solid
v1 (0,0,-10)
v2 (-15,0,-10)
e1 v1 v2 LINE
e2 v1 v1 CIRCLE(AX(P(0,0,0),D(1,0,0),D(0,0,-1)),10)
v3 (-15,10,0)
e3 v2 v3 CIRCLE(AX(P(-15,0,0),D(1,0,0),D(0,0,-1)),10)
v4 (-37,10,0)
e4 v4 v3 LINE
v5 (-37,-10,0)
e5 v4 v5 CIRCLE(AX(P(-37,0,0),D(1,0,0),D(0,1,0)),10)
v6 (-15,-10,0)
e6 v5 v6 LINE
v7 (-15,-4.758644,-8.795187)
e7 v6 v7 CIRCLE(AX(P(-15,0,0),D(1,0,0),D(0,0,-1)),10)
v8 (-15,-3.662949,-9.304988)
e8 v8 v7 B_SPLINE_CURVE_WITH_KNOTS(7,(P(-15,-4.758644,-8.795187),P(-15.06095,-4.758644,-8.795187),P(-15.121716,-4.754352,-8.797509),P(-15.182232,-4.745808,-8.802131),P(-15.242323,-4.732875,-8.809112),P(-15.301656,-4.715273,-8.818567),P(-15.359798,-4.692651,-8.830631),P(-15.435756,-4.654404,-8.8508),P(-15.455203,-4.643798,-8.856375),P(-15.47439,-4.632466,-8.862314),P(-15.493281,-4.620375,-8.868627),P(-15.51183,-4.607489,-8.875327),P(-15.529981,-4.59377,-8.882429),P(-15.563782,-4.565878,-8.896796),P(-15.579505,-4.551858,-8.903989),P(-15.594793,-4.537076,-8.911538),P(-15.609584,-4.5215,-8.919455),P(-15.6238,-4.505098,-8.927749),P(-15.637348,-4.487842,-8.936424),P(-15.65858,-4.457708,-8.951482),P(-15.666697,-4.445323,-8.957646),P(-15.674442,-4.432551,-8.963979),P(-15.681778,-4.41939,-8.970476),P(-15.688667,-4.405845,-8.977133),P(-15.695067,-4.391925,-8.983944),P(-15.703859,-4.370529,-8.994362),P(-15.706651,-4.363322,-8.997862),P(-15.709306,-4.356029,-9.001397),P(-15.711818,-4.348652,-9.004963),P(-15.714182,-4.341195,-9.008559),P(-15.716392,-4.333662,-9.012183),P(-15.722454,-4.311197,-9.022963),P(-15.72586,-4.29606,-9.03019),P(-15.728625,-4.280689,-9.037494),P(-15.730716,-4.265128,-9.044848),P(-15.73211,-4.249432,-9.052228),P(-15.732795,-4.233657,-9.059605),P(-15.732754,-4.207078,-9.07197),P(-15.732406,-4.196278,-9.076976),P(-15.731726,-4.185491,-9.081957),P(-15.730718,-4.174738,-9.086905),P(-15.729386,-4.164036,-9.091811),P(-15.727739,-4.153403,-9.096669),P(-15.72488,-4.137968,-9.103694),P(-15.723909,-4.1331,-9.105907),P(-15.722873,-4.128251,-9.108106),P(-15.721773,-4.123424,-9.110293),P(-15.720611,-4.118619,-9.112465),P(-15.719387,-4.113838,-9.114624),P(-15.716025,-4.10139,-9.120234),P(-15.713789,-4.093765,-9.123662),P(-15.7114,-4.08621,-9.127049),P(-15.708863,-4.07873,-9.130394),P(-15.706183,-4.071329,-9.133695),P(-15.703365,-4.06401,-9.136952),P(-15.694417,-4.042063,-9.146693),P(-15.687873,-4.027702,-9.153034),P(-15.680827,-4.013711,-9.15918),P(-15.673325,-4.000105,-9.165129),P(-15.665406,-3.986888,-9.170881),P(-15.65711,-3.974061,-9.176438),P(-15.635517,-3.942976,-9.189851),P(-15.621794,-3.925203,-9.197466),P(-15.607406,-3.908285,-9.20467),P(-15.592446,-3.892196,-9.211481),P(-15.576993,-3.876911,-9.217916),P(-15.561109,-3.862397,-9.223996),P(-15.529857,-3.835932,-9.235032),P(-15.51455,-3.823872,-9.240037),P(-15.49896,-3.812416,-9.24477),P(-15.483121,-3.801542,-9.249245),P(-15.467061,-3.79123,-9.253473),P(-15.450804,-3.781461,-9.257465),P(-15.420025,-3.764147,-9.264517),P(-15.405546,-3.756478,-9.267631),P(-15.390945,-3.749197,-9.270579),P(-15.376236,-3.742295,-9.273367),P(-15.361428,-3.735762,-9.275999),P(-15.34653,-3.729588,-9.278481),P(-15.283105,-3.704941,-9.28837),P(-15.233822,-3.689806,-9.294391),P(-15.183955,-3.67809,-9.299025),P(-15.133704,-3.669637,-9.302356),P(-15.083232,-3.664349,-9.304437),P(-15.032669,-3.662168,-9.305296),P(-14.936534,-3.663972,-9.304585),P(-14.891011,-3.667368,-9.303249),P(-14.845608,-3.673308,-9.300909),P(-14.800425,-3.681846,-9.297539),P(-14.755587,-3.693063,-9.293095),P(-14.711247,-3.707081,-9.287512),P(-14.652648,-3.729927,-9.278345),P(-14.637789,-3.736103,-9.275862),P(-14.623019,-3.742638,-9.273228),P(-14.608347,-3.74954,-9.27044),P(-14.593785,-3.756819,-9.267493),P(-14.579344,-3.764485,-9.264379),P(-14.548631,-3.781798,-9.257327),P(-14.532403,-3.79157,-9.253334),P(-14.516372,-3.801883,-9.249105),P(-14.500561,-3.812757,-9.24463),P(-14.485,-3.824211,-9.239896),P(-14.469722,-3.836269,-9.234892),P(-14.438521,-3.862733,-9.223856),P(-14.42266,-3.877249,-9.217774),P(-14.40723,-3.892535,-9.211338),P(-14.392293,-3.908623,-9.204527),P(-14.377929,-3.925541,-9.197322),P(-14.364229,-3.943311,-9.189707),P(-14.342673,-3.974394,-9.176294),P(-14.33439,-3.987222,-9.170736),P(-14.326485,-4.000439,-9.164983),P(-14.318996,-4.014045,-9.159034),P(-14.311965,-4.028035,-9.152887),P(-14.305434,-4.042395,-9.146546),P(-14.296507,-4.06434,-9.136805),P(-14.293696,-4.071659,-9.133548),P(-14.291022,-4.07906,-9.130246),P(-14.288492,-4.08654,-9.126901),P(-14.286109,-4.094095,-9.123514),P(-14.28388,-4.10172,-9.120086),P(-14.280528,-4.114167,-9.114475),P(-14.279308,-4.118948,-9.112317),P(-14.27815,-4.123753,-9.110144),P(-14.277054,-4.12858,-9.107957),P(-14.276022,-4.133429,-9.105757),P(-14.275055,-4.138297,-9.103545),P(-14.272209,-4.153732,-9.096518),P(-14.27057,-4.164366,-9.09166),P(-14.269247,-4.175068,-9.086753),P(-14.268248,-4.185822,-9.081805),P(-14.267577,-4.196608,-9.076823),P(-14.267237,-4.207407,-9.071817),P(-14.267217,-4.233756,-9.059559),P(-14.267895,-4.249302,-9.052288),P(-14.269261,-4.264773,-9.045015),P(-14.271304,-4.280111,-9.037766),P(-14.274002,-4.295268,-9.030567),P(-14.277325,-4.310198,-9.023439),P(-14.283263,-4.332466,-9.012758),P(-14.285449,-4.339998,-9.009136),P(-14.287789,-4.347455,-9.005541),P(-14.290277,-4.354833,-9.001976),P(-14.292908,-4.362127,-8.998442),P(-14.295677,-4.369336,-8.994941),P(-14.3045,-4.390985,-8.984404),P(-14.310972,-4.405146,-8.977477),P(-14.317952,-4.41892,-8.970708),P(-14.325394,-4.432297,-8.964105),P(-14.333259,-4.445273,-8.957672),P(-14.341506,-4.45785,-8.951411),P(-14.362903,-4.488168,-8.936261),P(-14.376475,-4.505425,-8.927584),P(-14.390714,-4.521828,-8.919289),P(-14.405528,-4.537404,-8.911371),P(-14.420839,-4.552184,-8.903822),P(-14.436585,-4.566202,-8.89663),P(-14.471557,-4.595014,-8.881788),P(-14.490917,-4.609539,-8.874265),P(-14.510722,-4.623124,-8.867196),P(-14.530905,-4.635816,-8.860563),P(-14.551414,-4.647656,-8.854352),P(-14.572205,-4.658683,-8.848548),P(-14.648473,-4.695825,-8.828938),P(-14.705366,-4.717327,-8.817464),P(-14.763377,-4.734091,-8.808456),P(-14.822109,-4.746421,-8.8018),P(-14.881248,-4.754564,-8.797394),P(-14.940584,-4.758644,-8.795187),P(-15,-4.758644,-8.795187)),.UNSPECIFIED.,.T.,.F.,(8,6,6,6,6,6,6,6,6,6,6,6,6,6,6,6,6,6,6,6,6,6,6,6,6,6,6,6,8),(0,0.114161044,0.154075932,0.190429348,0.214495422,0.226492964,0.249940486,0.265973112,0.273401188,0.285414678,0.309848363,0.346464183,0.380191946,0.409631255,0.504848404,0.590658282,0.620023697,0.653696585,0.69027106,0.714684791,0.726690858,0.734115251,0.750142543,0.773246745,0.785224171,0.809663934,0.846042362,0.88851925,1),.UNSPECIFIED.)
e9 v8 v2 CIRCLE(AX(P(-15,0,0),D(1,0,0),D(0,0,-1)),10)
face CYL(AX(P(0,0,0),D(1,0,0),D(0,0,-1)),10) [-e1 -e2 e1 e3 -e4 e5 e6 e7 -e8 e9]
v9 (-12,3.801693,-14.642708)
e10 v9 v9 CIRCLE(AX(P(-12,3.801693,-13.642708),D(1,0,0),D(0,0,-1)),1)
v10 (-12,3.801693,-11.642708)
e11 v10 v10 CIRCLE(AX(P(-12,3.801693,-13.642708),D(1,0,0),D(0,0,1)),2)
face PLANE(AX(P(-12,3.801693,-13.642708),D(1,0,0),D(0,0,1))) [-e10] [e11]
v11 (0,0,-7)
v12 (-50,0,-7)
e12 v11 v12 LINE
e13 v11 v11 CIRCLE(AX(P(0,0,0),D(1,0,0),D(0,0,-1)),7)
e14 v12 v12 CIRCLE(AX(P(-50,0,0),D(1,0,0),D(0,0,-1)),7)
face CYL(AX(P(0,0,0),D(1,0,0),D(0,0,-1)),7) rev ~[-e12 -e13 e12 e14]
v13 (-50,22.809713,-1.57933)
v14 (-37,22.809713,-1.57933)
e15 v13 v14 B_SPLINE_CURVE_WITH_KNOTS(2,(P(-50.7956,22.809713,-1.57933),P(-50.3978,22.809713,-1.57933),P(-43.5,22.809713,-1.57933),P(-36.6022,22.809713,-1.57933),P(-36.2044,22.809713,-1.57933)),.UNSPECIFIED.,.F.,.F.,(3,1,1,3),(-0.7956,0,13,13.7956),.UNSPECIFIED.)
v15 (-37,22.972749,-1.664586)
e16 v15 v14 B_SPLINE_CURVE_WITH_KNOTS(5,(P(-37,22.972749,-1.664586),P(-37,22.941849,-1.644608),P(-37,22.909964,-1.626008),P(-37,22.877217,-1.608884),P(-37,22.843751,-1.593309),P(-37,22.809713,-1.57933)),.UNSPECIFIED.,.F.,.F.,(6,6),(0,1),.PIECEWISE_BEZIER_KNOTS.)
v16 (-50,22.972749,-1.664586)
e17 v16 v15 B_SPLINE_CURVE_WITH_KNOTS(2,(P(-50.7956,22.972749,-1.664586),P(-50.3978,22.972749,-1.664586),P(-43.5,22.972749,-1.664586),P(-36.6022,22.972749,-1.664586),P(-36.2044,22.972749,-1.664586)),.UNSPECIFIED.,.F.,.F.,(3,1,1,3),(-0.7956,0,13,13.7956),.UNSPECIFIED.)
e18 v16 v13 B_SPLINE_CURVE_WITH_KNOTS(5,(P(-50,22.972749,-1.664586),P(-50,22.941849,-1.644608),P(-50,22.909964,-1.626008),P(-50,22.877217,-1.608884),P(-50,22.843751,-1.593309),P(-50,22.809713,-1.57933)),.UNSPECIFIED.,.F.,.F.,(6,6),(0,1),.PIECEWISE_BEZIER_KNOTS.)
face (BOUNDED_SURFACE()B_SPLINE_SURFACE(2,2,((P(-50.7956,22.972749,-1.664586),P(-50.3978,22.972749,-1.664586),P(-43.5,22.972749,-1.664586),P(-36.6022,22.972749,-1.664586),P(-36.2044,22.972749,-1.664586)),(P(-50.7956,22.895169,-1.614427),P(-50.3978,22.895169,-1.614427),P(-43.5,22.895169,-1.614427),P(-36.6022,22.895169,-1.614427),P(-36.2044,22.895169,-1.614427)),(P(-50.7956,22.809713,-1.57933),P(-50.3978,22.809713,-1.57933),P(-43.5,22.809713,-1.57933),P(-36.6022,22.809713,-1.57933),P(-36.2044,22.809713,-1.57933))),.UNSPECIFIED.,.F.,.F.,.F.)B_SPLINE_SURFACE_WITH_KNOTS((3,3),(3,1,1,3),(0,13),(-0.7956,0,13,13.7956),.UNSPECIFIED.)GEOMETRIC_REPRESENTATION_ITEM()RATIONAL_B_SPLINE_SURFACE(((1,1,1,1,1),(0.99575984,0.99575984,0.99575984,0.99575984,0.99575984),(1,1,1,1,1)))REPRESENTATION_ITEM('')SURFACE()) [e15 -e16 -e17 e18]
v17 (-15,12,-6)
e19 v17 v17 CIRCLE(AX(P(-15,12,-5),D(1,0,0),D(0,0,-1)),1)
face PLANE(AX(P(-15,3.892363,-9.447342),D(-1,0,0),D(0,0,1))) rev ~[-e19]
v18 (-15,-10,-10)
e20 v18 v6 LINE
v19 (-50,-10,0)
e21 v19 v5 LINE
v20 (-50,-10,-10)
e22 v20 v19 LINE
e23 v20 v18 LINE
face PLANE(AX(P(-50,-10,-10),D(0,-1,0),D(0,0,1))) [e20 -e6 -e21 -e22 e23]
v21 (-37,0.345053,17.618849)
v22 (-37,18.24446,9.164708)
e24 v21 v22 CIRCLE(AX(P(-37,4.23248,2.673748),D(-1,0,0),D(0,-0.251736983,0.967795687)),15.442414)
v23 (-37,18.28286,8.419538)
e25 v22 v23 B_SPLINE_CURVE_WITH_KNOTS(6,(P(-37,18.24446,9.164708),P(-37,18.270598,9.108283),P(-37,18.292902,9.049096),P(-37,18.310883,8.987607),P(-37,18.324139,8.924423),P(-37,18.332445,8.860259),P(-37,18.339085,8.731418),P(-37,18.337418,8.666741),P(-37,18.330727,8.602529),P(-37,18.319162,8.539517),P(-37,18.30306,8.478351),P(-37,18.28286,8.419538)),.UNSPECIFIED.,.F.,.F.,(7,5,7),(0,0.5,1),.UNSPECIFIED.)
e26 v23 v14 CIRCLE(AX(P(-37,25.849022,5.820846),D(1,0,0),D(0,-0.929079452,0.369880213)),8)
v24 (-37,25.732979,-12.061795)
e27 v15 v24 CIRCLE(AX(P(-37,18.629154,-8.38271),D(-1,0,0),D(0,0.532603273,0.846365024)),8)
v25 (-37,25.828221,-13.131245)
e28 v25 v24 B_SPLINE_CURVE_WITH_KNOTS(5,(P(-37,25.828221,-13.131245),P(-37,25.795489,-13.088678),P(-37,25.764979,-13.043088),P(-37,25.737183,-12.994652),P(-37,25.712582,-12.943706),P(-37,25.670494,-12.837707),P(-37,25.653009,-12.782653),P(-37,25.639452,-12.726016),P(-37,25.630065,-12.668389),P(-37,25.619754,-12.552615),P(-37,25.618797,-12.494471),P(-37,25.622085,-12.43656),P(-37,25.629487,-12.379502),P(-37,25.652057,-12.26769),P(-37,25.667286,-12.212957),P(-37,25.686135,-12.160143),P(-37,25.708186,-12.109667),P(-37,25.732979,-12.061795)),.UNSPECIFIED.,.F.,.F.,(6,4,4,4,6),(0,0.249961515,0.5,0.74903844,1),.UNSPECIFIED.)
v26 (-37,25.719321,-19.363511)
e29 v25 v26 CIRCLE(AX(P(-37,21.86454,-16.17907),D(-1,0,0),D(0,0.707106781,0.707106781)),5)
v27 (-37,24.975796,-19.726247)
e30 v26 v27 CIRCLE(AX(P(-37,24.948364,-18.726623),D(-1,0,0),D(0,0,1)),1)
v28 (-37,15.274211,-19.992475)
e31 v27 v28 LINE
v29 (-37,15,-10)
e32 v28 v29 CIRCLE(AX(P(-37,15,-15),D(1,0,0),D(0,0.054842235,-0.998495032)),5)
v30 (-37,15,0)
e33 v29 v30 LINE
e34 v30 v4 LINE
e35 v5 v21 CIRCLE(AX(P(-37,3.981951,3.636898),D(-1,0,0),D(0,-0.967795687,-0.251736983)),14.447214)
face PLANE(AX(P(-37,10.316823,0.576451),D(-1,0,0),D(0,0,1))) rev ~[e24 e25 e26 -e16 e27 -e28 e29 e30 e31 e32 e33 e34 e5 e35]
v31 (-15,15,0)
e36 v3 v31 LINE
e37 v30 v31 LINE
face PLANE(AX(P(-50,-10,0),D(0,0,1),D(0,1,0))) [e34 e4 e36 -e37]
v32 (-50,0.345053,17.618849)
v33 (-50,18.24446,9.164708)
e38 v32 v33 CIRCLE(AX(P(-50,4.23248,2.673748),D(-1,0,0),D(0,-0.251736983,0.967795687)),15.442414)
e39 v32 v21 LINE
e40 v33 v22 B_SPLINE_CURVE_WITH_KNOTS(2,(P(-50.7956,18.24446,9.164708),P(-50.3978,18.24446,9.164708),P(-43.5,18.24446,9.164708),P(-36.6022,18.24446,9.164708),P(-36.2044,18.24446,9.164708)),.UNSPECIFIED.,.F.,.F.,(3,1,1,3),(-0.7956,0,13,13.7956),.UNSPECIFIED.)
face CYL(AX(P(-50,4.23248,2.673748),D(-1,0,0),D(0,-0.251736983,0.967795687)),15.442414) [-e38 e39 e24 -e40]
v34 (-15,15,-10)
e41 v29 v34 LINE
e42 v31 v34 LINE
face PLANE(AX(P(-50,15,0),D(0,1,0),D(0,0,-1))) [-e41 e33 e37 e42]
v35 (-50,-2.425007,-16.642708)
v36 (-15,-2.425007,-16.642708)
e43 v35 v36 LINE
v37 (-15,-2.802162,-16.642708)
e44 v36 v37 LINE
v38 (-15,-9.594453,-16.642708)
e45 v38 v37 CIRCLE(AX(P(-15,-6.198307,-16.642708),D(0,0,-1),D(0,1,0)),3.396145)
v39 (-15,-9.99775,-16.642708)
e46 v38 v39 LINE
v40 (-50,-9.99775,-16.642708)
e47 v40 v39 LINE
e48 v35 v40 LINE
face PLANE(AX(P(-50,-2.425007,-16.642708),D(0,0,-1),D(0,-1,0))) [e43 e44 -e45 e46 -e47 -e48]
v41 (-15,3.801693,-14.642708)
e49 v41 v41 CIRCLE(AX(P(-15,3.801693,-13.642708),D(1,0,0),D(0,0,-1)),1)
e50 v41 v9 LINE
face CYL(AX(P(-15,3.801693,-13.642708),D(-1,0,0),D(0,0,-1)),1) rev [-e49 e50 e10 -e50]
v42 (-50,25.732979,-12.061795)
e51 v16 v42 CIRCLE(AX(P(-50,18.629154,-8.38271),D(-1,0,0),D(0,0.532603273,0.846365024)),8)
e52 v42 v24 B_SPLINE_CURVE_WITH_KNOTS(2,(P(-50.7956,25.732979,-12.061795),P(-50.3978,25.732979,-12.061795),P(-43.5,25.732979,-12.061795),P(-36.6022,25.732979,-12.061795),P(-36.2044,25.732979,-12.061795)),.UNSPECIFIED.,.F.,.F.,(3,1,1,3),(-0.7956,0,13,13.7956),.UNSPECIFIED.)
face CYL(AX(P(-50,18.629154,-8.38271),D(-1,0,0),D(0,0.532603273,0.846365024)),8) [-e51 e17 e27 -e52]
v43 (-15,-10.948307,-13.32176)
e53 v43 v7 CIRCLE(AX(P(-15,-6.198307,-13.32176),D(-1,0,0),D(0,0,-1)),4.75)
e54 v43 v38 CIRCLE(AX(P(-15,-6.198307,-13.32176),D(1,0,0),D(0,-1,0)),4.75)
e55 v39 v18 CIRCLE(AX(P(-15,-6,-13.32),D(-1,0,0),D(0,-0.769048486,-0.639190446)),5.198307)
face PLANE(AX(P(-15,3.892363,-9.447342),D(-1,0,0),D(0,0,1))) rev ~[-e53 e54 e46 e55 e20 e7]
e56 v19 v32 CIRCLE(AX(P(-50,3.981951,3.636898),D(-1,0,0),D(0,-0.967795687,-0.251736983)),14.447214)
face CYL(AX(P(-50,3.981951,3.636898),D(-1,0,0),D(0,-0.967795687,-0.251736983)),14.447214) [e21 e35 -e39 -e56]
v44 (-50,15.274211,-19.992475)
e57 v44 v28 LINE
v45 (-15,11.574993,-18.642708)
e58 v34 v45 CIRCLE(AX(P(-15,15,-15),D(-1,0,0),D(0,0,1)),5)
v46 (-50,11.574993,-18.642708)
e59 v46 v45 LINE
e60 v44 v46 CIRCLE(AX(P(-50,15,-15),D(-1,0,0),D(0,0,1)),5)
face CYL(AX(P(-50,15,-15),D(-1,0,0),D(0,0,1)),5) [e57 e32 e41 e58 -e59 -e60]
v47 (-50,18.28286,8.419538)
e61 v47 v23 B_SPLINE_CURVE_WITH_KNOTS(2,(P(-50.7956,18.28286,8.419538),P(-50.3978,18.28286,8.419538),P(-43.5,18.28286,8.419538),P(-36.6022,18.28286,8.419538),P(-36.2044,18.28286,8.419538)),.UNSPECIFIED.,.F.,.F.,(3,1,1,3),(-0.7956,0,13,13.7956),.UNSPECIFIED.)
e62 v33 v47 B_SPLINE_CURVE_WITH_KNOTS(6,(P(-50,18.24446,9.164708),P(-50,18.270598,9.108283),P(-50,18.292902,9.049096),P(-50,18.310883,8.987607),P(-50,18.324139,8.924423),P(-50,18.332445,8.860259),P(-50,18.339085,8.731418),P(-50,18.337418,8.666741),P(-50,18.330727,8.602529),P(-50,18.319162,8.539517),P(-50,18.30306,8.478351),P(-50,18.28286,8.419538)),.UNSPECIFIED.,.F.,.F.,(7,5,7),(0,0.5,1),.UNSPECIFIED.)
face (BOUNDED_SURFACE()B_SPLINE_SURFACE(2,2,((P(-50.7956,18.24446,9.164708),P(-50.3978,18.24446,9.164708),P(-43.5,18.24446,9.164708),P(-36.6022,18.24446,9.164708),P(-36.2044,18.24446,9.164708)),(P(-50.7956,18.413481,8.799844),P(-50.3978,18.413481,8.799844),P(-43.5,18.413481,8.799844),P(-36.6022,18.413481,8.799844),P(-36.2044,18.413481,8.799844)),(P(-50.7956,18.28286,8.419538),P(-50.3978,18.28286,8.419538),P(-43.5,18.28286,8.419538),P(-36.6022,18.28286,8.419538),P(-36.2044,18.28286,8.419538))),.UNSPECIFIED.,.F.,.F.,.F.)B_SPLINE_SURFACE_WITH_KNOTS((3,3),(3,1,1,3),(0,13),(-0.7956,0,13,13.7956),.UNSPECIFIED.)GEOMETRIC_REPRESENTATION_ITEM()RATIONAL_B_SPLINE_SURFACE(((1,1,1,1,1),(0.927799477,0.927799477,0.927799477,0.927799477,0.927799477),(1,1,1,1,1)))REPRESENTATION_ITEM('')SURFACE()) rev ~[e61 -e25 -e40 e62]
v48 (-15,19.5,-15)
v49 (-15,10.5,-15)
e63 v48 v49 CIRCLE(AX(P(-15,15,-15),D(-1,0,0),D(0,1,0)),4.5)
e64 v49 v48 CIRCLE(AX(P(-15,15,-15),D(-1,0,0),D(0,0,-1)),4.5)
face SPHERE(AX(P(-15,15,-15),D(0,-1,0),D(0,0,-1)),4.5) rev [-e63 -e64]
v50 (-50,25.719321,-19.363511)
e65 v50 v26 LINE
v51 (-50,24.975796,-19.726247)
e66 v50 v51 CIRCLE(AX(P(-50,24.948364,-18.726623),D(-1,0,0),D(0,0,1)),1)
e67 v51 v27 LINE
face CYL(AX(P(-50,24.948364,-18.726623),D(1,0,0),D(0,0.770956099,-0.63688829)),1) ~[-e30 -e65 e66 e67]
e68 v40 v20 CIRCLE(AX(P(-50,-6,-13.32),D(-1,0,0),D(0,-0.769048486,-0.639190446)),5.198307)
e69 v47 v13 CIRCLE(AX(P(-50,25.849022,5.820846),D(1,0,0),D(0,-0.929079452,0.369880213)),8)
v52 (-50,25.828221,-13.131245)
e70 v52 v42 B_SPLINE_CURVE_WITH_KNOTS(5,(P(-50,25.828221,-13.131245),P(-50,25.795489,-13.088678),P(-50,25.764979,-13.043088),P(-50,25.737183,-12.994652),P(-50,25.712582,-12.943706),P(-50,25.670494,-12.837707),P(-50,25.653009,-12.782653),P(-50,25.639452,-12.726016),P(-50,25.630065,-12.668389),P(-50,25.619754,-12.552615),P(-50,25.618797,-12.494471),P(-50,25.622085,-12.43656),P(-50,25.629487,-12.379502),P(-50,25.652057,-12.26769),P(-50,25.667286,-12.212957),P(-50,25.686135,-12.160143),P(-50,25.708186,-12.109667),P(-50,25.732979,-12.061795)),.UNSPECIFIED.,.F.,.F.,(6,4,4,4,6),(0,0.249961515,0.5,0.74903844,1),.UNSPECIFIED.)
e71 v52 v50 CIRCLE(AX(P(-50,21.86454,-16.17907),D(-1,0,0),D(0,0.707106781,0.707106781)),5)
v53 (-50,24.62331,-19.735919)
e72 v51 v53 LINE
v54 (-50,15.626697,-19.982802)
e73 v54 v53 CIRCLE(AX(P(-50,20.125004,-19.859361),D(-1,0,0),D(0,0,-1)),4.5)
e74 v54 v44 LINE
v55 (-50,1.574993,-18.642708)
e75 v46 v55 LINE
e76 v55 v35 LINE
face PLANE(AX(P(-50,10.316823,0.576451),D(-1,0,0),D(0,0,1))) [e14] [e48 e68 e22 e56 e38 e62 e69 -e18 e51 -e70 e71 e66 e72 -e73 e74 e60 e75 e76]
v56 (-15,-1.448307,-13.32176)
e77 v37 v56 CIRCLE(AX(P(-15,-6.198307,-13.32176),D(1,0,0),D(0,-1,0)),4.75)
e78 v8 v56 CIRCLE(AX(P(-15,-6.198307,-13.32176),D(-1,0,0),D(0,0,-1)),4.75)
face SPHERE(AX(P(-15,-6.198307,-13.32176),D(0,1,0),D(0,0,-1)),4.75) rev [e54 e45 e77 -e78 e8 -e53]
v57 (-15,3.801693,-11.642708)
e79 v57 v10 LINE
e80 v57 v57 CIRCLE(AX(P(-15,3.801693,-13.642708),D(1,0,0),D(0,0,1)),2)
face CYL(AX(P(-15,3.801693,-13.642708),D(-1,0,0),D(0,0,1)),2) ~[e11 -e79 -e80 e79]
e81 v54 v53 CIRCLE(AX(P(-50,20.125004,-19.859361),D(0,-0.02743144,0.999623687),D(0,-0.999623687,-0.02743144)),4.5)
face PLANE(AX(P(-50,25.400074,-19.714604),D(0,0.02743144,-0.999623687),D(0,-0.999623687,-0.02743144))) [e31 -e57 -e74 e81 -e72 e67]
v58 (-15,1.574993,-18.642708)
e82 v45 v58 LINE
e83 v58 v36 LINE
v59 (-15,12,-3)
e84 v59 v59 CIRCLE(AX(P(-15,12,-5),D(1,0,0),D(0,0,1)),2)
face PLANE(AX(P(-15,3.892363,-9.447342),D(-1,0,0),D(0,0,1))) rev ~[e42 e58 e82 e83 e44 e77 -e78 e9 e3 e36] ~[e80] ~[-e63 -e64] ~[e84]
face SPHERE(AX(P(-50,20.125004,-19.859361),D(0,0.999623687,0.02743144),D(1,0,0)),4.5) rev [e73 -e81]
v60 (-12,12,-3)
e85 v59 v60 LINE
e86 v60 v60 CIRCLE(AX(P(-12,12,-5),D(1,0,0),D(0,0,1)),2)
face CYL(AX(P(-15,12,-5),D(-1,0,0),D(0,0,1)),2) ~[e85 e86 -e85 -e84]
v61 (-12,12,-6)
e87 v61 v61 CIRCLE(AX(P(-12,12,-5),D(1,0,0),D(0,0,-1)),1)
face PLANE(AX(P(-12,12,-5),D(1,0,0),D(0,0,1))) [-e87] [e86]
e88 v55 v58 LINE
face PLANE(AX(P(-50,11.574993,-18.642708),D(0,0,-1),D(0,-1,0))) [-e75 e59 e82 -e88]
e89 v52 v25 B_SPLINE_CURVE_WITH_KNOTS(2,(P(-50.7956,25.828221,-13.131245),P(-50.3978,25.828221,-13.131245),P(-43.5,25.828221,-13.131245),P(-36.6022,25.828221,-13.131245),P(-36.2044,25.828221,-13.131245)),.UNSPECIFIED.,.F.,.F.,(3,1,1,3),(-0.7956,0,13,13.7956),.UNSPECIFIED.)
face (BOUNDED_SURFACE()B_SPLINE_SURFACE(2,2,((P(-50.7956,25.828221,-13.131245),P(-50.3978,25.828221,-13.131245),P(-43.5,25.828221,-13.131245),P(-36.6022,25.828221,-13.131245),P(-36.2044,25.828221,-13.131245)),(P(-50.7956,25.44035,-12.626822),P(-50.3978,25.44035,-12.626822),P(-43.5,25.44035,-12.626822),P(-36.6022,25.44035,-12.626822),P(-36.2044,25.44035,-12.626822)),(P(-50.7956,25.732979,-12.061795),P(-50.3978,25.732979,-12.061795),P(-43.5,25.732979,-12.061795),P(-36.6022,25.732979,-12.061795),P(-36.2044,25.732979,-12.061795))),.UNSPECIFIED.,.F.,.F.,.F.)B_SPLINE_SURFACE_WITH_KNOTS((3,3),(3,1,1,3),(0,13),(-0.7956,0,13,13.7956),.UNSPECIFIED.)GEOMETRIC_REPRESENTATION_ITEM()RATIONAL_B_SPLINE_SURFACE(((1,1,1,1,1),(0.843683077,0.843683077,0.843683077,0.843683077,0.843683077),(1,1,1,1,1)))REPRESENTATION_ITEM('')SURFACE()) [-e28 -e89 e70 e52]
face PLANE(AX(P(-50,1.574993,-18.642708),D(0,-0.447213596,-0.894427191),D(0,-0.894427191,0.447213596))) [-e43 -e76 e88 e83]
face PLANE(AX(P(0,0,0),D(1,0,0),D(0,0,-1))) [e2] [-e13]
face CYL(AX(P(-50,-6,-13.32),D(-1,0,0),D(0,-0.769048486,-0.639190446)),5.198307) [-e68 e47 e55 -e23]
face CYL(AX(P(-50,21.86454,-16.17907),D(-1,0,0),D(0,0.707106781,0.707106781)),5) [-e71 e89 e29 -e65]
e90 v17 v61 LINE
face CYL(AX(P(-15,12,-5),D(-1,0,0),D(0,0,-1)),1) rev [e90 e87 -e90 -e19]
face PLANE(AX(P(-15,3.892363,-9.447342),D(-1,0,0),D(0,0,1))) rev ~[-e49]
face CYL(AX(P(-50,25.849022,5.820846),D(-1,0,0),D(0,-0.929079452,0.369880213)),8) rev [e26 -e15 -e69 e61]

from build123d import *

# Parameters (mm, degrees)
SKETCH1_R           = 10
BOSS_EXTRUDE1_DEPTH = 50
BOSS_EXTRUDE3_DEPTH = 35
SKETCH8_R           = 2
SKETCH8_R_2         = 1
BOSS_EXTRUDE4_DEPTH = 3
BOSS_EXTRUDE6_DEPTH = 13
FILLET1_R           = 1
FILLET2_R           = 1
SKETCH2_R           = 7
CUT_EXTRUDE2_DEPTH  = 61.180591


with BuildPart() as part:
    # Sketch1 → Boss-Extrude1 (new body)
    with BuildSketch(Plane(origin=(0, 0, 0), x_dir=(0, 0, -1), z_dir=(1, 0, 0))):
        Circle(SKETCH1_R)
    extrude(amount=-BOSS_EXTRUDE1_DEPTH)

    # Sketch3 → Boss-Extrude3 (add)
    with BuildSketch(Plane(origin=(-50, 0, 0), x_dir=(0, 0, -1), z_dir=(1, 0, 0))):
        with BuildLine():
            Line((0, 10), (0, 15))
            Line((0, 15), (10, 15))
            ThreePointArc((10, 15), (16.842071907, 19.648308412), (18.642708436, 11.574992664))
            Line((18.642708436, 11.574992664), (18.642708436, 1.574992664))
            Line((18.642708436, 1.574992664), (16.642708436, -2.425007336))
            Line((16.642708436, -2.425007336), (16.642708436, -9.997750449))
            ThreePointArc((16.642708436, -9.997750449), (13.321760405, -11.198307119), (10, -10))
            Line((10, -10), (0, -10))
            Line((0, -10), (0, 10))
        make_face()
    extrude(amount=BOSS_EXTRUDE3_DEPTH)

    # Sketch6 → Cut-Revolve1 (revolve, cut)
    with BuildSketch(Plane(origin=(-15, 0, 0), x_dir=(0, 0, -1), z_dir=(1, 0, 0))):
        with BuildLine():
            Line((13.321760405, -1.448307119), (13.321760405, -10.948307119))
            ThreePointArc((13.321760405, -10.948307119), (18.071760405, -6.198307119), (13.321760405, -1.448307119))
        make_face()
    revolve(axis=Axis((-15, -1.448307119, -13.321760405), (0, -1, 0)), mode=Mode.SUBTRACT)

    # Sketch7 → Cut-Revolve2 (revolve, cut)
    with BuildSketch(Plane(origin=(-15, 0, 0), x_dir=(0, 0, -1), z_dir=(1, 0, 0))):
        with BuildLine():
            Line((15, 10.5), (15, 19.5))
            ThreePointArc((15, 19.5), (19.5, 15), (15, 10.5))
        make_face()
    revolve(axis=Axis((-15, 10.5, -15), (0, 1, 0)), mode=Mode.SUBTRACT)

    # Sketch8 → Boss-Extrude4 (add)
    # profile 1 of 2: a face of its own
    with BuildSketch(Plane(origin=(-15, 0, 0), x_dir=(0, 0, -1), z_dir=(1, 0, 0))):
        with Locations(Location((13.642708436, 3.801692881, 0), (0, 0, 180))):
            Circle(SKETCH8_R)
        with Locations((13.642708436, 3.801692881)):
            Circle(SKETCH8_R_2, mode=Mode.SUBTRACT)
    # profile 2 of 2: a face of its own
    with BuildSketch(Plane(origin=(-15, 0, 0), x_dir=(0, 0, -1), z_dir=(1, 0, 0))):
        with Locations(Location((5, 12, 0), (0, 0, 180))):
            Circle(SKETCH8_R)
        with Locations((5, 12)):
            Circle(SKETCH8_R_2, mode=Mode.SUBTRACT)
    extrude(amount=BOSS_EXTRUDE4_DEPTH)

    # Sketch10 → Boss-Extrude6 (add)
    with BuildSketch(Plane.ZY.offset(50)):
        with BuildLine():
            Line((-19.714603594, 25.400073987), (-19.992475161, 15.274211174))
            ThreePointArc((-19.992475161, 15.274211174), (-14.862842799, 19.998118436), (-10, 15))
            Line((-10, 15), (0, 15))
            Line((0, 15), (0, 10))
            ThreePointArc((0, 10), (10, 0), (0, -10))
            ThreePointArc((0, -10), (10.951955319, -8.476456548), (17.618849286, 0.345053233))
            ThreePointArc((17.618849286, 0.345053233), (16.545732573, 11.017476726), (8.77988791, 18.416386062))
            ThreePointArc((8.77988791, 18.416386062), (2.657537615, 18.500996178), (-1.611789409, 22.889979975))
            ThreePointArc((-1.611789409, 22.889979975), (-6.607805104, 26.429776463), (-12.643535782, 25.400073987))
            ThreePointArc((-12.643535782, 25.400073987), (-16.179069688, 26.864540081), (-19.714603594, 25.400073987))
        make_face()
    extrude(amount=-BOSS_EXTRUDE6_DEPTH)

    # Fillet1
    fillet1_edges = [part.edges().sort_by_distance(p)[0] for p in [
        (-43.5, 25.400073987, -12.643535782),
        (-43.5, 22.889979975, -1.611789409),
        (-43.5, 18.416386062, 8.77988791),
    ]]
    fillet(fillet1_edges, radius=FILLET1_R)

    # Fillet2
    fillet2_edges = [part.edges().sort_by_distance(p)[0] for p in [
        (-43.5, 25.400073987, -19.714603594),
    ]]
    fillet(fillet2_edges, radius=FILLET2_R)

    # Sketch11 → Cut-Revolve3 (revolve, cut)
    with BuildSketch(Plane(origin=(0, 0.559709606, -20.396267082), x_dir=(-1, 0, 0), z_dir=(0, 0.02743144017102401, -0.999623687239425))):
        with BuildLine():
            Line((50, 24.072659381), (50, 15.072659381))
            ThreePointArc((50, 15.072659381), (45.5, 19.572659381), (50, 24.072659381))
        make_face()
    revolve(axis=Axis((-50, 24.623310138, -19.735919367), (0, -0.9996236872394249, -0.027431440171024075)), mode=Mode.SUBTRACT)

    # Sketch2 → Cut-Extrude2 (cut, through all)
    with BuildSketch(Plane(origin=(0, 0, 0), x_dir=(0, 0, -1), z_dir=(1, 0, 0))):
        Circle(SKETCH2_R)
    extrude(amount=-CUT_EXTRUDE2_DEPTH, mode=Mode.SUBTRACT)


solid = part.part
